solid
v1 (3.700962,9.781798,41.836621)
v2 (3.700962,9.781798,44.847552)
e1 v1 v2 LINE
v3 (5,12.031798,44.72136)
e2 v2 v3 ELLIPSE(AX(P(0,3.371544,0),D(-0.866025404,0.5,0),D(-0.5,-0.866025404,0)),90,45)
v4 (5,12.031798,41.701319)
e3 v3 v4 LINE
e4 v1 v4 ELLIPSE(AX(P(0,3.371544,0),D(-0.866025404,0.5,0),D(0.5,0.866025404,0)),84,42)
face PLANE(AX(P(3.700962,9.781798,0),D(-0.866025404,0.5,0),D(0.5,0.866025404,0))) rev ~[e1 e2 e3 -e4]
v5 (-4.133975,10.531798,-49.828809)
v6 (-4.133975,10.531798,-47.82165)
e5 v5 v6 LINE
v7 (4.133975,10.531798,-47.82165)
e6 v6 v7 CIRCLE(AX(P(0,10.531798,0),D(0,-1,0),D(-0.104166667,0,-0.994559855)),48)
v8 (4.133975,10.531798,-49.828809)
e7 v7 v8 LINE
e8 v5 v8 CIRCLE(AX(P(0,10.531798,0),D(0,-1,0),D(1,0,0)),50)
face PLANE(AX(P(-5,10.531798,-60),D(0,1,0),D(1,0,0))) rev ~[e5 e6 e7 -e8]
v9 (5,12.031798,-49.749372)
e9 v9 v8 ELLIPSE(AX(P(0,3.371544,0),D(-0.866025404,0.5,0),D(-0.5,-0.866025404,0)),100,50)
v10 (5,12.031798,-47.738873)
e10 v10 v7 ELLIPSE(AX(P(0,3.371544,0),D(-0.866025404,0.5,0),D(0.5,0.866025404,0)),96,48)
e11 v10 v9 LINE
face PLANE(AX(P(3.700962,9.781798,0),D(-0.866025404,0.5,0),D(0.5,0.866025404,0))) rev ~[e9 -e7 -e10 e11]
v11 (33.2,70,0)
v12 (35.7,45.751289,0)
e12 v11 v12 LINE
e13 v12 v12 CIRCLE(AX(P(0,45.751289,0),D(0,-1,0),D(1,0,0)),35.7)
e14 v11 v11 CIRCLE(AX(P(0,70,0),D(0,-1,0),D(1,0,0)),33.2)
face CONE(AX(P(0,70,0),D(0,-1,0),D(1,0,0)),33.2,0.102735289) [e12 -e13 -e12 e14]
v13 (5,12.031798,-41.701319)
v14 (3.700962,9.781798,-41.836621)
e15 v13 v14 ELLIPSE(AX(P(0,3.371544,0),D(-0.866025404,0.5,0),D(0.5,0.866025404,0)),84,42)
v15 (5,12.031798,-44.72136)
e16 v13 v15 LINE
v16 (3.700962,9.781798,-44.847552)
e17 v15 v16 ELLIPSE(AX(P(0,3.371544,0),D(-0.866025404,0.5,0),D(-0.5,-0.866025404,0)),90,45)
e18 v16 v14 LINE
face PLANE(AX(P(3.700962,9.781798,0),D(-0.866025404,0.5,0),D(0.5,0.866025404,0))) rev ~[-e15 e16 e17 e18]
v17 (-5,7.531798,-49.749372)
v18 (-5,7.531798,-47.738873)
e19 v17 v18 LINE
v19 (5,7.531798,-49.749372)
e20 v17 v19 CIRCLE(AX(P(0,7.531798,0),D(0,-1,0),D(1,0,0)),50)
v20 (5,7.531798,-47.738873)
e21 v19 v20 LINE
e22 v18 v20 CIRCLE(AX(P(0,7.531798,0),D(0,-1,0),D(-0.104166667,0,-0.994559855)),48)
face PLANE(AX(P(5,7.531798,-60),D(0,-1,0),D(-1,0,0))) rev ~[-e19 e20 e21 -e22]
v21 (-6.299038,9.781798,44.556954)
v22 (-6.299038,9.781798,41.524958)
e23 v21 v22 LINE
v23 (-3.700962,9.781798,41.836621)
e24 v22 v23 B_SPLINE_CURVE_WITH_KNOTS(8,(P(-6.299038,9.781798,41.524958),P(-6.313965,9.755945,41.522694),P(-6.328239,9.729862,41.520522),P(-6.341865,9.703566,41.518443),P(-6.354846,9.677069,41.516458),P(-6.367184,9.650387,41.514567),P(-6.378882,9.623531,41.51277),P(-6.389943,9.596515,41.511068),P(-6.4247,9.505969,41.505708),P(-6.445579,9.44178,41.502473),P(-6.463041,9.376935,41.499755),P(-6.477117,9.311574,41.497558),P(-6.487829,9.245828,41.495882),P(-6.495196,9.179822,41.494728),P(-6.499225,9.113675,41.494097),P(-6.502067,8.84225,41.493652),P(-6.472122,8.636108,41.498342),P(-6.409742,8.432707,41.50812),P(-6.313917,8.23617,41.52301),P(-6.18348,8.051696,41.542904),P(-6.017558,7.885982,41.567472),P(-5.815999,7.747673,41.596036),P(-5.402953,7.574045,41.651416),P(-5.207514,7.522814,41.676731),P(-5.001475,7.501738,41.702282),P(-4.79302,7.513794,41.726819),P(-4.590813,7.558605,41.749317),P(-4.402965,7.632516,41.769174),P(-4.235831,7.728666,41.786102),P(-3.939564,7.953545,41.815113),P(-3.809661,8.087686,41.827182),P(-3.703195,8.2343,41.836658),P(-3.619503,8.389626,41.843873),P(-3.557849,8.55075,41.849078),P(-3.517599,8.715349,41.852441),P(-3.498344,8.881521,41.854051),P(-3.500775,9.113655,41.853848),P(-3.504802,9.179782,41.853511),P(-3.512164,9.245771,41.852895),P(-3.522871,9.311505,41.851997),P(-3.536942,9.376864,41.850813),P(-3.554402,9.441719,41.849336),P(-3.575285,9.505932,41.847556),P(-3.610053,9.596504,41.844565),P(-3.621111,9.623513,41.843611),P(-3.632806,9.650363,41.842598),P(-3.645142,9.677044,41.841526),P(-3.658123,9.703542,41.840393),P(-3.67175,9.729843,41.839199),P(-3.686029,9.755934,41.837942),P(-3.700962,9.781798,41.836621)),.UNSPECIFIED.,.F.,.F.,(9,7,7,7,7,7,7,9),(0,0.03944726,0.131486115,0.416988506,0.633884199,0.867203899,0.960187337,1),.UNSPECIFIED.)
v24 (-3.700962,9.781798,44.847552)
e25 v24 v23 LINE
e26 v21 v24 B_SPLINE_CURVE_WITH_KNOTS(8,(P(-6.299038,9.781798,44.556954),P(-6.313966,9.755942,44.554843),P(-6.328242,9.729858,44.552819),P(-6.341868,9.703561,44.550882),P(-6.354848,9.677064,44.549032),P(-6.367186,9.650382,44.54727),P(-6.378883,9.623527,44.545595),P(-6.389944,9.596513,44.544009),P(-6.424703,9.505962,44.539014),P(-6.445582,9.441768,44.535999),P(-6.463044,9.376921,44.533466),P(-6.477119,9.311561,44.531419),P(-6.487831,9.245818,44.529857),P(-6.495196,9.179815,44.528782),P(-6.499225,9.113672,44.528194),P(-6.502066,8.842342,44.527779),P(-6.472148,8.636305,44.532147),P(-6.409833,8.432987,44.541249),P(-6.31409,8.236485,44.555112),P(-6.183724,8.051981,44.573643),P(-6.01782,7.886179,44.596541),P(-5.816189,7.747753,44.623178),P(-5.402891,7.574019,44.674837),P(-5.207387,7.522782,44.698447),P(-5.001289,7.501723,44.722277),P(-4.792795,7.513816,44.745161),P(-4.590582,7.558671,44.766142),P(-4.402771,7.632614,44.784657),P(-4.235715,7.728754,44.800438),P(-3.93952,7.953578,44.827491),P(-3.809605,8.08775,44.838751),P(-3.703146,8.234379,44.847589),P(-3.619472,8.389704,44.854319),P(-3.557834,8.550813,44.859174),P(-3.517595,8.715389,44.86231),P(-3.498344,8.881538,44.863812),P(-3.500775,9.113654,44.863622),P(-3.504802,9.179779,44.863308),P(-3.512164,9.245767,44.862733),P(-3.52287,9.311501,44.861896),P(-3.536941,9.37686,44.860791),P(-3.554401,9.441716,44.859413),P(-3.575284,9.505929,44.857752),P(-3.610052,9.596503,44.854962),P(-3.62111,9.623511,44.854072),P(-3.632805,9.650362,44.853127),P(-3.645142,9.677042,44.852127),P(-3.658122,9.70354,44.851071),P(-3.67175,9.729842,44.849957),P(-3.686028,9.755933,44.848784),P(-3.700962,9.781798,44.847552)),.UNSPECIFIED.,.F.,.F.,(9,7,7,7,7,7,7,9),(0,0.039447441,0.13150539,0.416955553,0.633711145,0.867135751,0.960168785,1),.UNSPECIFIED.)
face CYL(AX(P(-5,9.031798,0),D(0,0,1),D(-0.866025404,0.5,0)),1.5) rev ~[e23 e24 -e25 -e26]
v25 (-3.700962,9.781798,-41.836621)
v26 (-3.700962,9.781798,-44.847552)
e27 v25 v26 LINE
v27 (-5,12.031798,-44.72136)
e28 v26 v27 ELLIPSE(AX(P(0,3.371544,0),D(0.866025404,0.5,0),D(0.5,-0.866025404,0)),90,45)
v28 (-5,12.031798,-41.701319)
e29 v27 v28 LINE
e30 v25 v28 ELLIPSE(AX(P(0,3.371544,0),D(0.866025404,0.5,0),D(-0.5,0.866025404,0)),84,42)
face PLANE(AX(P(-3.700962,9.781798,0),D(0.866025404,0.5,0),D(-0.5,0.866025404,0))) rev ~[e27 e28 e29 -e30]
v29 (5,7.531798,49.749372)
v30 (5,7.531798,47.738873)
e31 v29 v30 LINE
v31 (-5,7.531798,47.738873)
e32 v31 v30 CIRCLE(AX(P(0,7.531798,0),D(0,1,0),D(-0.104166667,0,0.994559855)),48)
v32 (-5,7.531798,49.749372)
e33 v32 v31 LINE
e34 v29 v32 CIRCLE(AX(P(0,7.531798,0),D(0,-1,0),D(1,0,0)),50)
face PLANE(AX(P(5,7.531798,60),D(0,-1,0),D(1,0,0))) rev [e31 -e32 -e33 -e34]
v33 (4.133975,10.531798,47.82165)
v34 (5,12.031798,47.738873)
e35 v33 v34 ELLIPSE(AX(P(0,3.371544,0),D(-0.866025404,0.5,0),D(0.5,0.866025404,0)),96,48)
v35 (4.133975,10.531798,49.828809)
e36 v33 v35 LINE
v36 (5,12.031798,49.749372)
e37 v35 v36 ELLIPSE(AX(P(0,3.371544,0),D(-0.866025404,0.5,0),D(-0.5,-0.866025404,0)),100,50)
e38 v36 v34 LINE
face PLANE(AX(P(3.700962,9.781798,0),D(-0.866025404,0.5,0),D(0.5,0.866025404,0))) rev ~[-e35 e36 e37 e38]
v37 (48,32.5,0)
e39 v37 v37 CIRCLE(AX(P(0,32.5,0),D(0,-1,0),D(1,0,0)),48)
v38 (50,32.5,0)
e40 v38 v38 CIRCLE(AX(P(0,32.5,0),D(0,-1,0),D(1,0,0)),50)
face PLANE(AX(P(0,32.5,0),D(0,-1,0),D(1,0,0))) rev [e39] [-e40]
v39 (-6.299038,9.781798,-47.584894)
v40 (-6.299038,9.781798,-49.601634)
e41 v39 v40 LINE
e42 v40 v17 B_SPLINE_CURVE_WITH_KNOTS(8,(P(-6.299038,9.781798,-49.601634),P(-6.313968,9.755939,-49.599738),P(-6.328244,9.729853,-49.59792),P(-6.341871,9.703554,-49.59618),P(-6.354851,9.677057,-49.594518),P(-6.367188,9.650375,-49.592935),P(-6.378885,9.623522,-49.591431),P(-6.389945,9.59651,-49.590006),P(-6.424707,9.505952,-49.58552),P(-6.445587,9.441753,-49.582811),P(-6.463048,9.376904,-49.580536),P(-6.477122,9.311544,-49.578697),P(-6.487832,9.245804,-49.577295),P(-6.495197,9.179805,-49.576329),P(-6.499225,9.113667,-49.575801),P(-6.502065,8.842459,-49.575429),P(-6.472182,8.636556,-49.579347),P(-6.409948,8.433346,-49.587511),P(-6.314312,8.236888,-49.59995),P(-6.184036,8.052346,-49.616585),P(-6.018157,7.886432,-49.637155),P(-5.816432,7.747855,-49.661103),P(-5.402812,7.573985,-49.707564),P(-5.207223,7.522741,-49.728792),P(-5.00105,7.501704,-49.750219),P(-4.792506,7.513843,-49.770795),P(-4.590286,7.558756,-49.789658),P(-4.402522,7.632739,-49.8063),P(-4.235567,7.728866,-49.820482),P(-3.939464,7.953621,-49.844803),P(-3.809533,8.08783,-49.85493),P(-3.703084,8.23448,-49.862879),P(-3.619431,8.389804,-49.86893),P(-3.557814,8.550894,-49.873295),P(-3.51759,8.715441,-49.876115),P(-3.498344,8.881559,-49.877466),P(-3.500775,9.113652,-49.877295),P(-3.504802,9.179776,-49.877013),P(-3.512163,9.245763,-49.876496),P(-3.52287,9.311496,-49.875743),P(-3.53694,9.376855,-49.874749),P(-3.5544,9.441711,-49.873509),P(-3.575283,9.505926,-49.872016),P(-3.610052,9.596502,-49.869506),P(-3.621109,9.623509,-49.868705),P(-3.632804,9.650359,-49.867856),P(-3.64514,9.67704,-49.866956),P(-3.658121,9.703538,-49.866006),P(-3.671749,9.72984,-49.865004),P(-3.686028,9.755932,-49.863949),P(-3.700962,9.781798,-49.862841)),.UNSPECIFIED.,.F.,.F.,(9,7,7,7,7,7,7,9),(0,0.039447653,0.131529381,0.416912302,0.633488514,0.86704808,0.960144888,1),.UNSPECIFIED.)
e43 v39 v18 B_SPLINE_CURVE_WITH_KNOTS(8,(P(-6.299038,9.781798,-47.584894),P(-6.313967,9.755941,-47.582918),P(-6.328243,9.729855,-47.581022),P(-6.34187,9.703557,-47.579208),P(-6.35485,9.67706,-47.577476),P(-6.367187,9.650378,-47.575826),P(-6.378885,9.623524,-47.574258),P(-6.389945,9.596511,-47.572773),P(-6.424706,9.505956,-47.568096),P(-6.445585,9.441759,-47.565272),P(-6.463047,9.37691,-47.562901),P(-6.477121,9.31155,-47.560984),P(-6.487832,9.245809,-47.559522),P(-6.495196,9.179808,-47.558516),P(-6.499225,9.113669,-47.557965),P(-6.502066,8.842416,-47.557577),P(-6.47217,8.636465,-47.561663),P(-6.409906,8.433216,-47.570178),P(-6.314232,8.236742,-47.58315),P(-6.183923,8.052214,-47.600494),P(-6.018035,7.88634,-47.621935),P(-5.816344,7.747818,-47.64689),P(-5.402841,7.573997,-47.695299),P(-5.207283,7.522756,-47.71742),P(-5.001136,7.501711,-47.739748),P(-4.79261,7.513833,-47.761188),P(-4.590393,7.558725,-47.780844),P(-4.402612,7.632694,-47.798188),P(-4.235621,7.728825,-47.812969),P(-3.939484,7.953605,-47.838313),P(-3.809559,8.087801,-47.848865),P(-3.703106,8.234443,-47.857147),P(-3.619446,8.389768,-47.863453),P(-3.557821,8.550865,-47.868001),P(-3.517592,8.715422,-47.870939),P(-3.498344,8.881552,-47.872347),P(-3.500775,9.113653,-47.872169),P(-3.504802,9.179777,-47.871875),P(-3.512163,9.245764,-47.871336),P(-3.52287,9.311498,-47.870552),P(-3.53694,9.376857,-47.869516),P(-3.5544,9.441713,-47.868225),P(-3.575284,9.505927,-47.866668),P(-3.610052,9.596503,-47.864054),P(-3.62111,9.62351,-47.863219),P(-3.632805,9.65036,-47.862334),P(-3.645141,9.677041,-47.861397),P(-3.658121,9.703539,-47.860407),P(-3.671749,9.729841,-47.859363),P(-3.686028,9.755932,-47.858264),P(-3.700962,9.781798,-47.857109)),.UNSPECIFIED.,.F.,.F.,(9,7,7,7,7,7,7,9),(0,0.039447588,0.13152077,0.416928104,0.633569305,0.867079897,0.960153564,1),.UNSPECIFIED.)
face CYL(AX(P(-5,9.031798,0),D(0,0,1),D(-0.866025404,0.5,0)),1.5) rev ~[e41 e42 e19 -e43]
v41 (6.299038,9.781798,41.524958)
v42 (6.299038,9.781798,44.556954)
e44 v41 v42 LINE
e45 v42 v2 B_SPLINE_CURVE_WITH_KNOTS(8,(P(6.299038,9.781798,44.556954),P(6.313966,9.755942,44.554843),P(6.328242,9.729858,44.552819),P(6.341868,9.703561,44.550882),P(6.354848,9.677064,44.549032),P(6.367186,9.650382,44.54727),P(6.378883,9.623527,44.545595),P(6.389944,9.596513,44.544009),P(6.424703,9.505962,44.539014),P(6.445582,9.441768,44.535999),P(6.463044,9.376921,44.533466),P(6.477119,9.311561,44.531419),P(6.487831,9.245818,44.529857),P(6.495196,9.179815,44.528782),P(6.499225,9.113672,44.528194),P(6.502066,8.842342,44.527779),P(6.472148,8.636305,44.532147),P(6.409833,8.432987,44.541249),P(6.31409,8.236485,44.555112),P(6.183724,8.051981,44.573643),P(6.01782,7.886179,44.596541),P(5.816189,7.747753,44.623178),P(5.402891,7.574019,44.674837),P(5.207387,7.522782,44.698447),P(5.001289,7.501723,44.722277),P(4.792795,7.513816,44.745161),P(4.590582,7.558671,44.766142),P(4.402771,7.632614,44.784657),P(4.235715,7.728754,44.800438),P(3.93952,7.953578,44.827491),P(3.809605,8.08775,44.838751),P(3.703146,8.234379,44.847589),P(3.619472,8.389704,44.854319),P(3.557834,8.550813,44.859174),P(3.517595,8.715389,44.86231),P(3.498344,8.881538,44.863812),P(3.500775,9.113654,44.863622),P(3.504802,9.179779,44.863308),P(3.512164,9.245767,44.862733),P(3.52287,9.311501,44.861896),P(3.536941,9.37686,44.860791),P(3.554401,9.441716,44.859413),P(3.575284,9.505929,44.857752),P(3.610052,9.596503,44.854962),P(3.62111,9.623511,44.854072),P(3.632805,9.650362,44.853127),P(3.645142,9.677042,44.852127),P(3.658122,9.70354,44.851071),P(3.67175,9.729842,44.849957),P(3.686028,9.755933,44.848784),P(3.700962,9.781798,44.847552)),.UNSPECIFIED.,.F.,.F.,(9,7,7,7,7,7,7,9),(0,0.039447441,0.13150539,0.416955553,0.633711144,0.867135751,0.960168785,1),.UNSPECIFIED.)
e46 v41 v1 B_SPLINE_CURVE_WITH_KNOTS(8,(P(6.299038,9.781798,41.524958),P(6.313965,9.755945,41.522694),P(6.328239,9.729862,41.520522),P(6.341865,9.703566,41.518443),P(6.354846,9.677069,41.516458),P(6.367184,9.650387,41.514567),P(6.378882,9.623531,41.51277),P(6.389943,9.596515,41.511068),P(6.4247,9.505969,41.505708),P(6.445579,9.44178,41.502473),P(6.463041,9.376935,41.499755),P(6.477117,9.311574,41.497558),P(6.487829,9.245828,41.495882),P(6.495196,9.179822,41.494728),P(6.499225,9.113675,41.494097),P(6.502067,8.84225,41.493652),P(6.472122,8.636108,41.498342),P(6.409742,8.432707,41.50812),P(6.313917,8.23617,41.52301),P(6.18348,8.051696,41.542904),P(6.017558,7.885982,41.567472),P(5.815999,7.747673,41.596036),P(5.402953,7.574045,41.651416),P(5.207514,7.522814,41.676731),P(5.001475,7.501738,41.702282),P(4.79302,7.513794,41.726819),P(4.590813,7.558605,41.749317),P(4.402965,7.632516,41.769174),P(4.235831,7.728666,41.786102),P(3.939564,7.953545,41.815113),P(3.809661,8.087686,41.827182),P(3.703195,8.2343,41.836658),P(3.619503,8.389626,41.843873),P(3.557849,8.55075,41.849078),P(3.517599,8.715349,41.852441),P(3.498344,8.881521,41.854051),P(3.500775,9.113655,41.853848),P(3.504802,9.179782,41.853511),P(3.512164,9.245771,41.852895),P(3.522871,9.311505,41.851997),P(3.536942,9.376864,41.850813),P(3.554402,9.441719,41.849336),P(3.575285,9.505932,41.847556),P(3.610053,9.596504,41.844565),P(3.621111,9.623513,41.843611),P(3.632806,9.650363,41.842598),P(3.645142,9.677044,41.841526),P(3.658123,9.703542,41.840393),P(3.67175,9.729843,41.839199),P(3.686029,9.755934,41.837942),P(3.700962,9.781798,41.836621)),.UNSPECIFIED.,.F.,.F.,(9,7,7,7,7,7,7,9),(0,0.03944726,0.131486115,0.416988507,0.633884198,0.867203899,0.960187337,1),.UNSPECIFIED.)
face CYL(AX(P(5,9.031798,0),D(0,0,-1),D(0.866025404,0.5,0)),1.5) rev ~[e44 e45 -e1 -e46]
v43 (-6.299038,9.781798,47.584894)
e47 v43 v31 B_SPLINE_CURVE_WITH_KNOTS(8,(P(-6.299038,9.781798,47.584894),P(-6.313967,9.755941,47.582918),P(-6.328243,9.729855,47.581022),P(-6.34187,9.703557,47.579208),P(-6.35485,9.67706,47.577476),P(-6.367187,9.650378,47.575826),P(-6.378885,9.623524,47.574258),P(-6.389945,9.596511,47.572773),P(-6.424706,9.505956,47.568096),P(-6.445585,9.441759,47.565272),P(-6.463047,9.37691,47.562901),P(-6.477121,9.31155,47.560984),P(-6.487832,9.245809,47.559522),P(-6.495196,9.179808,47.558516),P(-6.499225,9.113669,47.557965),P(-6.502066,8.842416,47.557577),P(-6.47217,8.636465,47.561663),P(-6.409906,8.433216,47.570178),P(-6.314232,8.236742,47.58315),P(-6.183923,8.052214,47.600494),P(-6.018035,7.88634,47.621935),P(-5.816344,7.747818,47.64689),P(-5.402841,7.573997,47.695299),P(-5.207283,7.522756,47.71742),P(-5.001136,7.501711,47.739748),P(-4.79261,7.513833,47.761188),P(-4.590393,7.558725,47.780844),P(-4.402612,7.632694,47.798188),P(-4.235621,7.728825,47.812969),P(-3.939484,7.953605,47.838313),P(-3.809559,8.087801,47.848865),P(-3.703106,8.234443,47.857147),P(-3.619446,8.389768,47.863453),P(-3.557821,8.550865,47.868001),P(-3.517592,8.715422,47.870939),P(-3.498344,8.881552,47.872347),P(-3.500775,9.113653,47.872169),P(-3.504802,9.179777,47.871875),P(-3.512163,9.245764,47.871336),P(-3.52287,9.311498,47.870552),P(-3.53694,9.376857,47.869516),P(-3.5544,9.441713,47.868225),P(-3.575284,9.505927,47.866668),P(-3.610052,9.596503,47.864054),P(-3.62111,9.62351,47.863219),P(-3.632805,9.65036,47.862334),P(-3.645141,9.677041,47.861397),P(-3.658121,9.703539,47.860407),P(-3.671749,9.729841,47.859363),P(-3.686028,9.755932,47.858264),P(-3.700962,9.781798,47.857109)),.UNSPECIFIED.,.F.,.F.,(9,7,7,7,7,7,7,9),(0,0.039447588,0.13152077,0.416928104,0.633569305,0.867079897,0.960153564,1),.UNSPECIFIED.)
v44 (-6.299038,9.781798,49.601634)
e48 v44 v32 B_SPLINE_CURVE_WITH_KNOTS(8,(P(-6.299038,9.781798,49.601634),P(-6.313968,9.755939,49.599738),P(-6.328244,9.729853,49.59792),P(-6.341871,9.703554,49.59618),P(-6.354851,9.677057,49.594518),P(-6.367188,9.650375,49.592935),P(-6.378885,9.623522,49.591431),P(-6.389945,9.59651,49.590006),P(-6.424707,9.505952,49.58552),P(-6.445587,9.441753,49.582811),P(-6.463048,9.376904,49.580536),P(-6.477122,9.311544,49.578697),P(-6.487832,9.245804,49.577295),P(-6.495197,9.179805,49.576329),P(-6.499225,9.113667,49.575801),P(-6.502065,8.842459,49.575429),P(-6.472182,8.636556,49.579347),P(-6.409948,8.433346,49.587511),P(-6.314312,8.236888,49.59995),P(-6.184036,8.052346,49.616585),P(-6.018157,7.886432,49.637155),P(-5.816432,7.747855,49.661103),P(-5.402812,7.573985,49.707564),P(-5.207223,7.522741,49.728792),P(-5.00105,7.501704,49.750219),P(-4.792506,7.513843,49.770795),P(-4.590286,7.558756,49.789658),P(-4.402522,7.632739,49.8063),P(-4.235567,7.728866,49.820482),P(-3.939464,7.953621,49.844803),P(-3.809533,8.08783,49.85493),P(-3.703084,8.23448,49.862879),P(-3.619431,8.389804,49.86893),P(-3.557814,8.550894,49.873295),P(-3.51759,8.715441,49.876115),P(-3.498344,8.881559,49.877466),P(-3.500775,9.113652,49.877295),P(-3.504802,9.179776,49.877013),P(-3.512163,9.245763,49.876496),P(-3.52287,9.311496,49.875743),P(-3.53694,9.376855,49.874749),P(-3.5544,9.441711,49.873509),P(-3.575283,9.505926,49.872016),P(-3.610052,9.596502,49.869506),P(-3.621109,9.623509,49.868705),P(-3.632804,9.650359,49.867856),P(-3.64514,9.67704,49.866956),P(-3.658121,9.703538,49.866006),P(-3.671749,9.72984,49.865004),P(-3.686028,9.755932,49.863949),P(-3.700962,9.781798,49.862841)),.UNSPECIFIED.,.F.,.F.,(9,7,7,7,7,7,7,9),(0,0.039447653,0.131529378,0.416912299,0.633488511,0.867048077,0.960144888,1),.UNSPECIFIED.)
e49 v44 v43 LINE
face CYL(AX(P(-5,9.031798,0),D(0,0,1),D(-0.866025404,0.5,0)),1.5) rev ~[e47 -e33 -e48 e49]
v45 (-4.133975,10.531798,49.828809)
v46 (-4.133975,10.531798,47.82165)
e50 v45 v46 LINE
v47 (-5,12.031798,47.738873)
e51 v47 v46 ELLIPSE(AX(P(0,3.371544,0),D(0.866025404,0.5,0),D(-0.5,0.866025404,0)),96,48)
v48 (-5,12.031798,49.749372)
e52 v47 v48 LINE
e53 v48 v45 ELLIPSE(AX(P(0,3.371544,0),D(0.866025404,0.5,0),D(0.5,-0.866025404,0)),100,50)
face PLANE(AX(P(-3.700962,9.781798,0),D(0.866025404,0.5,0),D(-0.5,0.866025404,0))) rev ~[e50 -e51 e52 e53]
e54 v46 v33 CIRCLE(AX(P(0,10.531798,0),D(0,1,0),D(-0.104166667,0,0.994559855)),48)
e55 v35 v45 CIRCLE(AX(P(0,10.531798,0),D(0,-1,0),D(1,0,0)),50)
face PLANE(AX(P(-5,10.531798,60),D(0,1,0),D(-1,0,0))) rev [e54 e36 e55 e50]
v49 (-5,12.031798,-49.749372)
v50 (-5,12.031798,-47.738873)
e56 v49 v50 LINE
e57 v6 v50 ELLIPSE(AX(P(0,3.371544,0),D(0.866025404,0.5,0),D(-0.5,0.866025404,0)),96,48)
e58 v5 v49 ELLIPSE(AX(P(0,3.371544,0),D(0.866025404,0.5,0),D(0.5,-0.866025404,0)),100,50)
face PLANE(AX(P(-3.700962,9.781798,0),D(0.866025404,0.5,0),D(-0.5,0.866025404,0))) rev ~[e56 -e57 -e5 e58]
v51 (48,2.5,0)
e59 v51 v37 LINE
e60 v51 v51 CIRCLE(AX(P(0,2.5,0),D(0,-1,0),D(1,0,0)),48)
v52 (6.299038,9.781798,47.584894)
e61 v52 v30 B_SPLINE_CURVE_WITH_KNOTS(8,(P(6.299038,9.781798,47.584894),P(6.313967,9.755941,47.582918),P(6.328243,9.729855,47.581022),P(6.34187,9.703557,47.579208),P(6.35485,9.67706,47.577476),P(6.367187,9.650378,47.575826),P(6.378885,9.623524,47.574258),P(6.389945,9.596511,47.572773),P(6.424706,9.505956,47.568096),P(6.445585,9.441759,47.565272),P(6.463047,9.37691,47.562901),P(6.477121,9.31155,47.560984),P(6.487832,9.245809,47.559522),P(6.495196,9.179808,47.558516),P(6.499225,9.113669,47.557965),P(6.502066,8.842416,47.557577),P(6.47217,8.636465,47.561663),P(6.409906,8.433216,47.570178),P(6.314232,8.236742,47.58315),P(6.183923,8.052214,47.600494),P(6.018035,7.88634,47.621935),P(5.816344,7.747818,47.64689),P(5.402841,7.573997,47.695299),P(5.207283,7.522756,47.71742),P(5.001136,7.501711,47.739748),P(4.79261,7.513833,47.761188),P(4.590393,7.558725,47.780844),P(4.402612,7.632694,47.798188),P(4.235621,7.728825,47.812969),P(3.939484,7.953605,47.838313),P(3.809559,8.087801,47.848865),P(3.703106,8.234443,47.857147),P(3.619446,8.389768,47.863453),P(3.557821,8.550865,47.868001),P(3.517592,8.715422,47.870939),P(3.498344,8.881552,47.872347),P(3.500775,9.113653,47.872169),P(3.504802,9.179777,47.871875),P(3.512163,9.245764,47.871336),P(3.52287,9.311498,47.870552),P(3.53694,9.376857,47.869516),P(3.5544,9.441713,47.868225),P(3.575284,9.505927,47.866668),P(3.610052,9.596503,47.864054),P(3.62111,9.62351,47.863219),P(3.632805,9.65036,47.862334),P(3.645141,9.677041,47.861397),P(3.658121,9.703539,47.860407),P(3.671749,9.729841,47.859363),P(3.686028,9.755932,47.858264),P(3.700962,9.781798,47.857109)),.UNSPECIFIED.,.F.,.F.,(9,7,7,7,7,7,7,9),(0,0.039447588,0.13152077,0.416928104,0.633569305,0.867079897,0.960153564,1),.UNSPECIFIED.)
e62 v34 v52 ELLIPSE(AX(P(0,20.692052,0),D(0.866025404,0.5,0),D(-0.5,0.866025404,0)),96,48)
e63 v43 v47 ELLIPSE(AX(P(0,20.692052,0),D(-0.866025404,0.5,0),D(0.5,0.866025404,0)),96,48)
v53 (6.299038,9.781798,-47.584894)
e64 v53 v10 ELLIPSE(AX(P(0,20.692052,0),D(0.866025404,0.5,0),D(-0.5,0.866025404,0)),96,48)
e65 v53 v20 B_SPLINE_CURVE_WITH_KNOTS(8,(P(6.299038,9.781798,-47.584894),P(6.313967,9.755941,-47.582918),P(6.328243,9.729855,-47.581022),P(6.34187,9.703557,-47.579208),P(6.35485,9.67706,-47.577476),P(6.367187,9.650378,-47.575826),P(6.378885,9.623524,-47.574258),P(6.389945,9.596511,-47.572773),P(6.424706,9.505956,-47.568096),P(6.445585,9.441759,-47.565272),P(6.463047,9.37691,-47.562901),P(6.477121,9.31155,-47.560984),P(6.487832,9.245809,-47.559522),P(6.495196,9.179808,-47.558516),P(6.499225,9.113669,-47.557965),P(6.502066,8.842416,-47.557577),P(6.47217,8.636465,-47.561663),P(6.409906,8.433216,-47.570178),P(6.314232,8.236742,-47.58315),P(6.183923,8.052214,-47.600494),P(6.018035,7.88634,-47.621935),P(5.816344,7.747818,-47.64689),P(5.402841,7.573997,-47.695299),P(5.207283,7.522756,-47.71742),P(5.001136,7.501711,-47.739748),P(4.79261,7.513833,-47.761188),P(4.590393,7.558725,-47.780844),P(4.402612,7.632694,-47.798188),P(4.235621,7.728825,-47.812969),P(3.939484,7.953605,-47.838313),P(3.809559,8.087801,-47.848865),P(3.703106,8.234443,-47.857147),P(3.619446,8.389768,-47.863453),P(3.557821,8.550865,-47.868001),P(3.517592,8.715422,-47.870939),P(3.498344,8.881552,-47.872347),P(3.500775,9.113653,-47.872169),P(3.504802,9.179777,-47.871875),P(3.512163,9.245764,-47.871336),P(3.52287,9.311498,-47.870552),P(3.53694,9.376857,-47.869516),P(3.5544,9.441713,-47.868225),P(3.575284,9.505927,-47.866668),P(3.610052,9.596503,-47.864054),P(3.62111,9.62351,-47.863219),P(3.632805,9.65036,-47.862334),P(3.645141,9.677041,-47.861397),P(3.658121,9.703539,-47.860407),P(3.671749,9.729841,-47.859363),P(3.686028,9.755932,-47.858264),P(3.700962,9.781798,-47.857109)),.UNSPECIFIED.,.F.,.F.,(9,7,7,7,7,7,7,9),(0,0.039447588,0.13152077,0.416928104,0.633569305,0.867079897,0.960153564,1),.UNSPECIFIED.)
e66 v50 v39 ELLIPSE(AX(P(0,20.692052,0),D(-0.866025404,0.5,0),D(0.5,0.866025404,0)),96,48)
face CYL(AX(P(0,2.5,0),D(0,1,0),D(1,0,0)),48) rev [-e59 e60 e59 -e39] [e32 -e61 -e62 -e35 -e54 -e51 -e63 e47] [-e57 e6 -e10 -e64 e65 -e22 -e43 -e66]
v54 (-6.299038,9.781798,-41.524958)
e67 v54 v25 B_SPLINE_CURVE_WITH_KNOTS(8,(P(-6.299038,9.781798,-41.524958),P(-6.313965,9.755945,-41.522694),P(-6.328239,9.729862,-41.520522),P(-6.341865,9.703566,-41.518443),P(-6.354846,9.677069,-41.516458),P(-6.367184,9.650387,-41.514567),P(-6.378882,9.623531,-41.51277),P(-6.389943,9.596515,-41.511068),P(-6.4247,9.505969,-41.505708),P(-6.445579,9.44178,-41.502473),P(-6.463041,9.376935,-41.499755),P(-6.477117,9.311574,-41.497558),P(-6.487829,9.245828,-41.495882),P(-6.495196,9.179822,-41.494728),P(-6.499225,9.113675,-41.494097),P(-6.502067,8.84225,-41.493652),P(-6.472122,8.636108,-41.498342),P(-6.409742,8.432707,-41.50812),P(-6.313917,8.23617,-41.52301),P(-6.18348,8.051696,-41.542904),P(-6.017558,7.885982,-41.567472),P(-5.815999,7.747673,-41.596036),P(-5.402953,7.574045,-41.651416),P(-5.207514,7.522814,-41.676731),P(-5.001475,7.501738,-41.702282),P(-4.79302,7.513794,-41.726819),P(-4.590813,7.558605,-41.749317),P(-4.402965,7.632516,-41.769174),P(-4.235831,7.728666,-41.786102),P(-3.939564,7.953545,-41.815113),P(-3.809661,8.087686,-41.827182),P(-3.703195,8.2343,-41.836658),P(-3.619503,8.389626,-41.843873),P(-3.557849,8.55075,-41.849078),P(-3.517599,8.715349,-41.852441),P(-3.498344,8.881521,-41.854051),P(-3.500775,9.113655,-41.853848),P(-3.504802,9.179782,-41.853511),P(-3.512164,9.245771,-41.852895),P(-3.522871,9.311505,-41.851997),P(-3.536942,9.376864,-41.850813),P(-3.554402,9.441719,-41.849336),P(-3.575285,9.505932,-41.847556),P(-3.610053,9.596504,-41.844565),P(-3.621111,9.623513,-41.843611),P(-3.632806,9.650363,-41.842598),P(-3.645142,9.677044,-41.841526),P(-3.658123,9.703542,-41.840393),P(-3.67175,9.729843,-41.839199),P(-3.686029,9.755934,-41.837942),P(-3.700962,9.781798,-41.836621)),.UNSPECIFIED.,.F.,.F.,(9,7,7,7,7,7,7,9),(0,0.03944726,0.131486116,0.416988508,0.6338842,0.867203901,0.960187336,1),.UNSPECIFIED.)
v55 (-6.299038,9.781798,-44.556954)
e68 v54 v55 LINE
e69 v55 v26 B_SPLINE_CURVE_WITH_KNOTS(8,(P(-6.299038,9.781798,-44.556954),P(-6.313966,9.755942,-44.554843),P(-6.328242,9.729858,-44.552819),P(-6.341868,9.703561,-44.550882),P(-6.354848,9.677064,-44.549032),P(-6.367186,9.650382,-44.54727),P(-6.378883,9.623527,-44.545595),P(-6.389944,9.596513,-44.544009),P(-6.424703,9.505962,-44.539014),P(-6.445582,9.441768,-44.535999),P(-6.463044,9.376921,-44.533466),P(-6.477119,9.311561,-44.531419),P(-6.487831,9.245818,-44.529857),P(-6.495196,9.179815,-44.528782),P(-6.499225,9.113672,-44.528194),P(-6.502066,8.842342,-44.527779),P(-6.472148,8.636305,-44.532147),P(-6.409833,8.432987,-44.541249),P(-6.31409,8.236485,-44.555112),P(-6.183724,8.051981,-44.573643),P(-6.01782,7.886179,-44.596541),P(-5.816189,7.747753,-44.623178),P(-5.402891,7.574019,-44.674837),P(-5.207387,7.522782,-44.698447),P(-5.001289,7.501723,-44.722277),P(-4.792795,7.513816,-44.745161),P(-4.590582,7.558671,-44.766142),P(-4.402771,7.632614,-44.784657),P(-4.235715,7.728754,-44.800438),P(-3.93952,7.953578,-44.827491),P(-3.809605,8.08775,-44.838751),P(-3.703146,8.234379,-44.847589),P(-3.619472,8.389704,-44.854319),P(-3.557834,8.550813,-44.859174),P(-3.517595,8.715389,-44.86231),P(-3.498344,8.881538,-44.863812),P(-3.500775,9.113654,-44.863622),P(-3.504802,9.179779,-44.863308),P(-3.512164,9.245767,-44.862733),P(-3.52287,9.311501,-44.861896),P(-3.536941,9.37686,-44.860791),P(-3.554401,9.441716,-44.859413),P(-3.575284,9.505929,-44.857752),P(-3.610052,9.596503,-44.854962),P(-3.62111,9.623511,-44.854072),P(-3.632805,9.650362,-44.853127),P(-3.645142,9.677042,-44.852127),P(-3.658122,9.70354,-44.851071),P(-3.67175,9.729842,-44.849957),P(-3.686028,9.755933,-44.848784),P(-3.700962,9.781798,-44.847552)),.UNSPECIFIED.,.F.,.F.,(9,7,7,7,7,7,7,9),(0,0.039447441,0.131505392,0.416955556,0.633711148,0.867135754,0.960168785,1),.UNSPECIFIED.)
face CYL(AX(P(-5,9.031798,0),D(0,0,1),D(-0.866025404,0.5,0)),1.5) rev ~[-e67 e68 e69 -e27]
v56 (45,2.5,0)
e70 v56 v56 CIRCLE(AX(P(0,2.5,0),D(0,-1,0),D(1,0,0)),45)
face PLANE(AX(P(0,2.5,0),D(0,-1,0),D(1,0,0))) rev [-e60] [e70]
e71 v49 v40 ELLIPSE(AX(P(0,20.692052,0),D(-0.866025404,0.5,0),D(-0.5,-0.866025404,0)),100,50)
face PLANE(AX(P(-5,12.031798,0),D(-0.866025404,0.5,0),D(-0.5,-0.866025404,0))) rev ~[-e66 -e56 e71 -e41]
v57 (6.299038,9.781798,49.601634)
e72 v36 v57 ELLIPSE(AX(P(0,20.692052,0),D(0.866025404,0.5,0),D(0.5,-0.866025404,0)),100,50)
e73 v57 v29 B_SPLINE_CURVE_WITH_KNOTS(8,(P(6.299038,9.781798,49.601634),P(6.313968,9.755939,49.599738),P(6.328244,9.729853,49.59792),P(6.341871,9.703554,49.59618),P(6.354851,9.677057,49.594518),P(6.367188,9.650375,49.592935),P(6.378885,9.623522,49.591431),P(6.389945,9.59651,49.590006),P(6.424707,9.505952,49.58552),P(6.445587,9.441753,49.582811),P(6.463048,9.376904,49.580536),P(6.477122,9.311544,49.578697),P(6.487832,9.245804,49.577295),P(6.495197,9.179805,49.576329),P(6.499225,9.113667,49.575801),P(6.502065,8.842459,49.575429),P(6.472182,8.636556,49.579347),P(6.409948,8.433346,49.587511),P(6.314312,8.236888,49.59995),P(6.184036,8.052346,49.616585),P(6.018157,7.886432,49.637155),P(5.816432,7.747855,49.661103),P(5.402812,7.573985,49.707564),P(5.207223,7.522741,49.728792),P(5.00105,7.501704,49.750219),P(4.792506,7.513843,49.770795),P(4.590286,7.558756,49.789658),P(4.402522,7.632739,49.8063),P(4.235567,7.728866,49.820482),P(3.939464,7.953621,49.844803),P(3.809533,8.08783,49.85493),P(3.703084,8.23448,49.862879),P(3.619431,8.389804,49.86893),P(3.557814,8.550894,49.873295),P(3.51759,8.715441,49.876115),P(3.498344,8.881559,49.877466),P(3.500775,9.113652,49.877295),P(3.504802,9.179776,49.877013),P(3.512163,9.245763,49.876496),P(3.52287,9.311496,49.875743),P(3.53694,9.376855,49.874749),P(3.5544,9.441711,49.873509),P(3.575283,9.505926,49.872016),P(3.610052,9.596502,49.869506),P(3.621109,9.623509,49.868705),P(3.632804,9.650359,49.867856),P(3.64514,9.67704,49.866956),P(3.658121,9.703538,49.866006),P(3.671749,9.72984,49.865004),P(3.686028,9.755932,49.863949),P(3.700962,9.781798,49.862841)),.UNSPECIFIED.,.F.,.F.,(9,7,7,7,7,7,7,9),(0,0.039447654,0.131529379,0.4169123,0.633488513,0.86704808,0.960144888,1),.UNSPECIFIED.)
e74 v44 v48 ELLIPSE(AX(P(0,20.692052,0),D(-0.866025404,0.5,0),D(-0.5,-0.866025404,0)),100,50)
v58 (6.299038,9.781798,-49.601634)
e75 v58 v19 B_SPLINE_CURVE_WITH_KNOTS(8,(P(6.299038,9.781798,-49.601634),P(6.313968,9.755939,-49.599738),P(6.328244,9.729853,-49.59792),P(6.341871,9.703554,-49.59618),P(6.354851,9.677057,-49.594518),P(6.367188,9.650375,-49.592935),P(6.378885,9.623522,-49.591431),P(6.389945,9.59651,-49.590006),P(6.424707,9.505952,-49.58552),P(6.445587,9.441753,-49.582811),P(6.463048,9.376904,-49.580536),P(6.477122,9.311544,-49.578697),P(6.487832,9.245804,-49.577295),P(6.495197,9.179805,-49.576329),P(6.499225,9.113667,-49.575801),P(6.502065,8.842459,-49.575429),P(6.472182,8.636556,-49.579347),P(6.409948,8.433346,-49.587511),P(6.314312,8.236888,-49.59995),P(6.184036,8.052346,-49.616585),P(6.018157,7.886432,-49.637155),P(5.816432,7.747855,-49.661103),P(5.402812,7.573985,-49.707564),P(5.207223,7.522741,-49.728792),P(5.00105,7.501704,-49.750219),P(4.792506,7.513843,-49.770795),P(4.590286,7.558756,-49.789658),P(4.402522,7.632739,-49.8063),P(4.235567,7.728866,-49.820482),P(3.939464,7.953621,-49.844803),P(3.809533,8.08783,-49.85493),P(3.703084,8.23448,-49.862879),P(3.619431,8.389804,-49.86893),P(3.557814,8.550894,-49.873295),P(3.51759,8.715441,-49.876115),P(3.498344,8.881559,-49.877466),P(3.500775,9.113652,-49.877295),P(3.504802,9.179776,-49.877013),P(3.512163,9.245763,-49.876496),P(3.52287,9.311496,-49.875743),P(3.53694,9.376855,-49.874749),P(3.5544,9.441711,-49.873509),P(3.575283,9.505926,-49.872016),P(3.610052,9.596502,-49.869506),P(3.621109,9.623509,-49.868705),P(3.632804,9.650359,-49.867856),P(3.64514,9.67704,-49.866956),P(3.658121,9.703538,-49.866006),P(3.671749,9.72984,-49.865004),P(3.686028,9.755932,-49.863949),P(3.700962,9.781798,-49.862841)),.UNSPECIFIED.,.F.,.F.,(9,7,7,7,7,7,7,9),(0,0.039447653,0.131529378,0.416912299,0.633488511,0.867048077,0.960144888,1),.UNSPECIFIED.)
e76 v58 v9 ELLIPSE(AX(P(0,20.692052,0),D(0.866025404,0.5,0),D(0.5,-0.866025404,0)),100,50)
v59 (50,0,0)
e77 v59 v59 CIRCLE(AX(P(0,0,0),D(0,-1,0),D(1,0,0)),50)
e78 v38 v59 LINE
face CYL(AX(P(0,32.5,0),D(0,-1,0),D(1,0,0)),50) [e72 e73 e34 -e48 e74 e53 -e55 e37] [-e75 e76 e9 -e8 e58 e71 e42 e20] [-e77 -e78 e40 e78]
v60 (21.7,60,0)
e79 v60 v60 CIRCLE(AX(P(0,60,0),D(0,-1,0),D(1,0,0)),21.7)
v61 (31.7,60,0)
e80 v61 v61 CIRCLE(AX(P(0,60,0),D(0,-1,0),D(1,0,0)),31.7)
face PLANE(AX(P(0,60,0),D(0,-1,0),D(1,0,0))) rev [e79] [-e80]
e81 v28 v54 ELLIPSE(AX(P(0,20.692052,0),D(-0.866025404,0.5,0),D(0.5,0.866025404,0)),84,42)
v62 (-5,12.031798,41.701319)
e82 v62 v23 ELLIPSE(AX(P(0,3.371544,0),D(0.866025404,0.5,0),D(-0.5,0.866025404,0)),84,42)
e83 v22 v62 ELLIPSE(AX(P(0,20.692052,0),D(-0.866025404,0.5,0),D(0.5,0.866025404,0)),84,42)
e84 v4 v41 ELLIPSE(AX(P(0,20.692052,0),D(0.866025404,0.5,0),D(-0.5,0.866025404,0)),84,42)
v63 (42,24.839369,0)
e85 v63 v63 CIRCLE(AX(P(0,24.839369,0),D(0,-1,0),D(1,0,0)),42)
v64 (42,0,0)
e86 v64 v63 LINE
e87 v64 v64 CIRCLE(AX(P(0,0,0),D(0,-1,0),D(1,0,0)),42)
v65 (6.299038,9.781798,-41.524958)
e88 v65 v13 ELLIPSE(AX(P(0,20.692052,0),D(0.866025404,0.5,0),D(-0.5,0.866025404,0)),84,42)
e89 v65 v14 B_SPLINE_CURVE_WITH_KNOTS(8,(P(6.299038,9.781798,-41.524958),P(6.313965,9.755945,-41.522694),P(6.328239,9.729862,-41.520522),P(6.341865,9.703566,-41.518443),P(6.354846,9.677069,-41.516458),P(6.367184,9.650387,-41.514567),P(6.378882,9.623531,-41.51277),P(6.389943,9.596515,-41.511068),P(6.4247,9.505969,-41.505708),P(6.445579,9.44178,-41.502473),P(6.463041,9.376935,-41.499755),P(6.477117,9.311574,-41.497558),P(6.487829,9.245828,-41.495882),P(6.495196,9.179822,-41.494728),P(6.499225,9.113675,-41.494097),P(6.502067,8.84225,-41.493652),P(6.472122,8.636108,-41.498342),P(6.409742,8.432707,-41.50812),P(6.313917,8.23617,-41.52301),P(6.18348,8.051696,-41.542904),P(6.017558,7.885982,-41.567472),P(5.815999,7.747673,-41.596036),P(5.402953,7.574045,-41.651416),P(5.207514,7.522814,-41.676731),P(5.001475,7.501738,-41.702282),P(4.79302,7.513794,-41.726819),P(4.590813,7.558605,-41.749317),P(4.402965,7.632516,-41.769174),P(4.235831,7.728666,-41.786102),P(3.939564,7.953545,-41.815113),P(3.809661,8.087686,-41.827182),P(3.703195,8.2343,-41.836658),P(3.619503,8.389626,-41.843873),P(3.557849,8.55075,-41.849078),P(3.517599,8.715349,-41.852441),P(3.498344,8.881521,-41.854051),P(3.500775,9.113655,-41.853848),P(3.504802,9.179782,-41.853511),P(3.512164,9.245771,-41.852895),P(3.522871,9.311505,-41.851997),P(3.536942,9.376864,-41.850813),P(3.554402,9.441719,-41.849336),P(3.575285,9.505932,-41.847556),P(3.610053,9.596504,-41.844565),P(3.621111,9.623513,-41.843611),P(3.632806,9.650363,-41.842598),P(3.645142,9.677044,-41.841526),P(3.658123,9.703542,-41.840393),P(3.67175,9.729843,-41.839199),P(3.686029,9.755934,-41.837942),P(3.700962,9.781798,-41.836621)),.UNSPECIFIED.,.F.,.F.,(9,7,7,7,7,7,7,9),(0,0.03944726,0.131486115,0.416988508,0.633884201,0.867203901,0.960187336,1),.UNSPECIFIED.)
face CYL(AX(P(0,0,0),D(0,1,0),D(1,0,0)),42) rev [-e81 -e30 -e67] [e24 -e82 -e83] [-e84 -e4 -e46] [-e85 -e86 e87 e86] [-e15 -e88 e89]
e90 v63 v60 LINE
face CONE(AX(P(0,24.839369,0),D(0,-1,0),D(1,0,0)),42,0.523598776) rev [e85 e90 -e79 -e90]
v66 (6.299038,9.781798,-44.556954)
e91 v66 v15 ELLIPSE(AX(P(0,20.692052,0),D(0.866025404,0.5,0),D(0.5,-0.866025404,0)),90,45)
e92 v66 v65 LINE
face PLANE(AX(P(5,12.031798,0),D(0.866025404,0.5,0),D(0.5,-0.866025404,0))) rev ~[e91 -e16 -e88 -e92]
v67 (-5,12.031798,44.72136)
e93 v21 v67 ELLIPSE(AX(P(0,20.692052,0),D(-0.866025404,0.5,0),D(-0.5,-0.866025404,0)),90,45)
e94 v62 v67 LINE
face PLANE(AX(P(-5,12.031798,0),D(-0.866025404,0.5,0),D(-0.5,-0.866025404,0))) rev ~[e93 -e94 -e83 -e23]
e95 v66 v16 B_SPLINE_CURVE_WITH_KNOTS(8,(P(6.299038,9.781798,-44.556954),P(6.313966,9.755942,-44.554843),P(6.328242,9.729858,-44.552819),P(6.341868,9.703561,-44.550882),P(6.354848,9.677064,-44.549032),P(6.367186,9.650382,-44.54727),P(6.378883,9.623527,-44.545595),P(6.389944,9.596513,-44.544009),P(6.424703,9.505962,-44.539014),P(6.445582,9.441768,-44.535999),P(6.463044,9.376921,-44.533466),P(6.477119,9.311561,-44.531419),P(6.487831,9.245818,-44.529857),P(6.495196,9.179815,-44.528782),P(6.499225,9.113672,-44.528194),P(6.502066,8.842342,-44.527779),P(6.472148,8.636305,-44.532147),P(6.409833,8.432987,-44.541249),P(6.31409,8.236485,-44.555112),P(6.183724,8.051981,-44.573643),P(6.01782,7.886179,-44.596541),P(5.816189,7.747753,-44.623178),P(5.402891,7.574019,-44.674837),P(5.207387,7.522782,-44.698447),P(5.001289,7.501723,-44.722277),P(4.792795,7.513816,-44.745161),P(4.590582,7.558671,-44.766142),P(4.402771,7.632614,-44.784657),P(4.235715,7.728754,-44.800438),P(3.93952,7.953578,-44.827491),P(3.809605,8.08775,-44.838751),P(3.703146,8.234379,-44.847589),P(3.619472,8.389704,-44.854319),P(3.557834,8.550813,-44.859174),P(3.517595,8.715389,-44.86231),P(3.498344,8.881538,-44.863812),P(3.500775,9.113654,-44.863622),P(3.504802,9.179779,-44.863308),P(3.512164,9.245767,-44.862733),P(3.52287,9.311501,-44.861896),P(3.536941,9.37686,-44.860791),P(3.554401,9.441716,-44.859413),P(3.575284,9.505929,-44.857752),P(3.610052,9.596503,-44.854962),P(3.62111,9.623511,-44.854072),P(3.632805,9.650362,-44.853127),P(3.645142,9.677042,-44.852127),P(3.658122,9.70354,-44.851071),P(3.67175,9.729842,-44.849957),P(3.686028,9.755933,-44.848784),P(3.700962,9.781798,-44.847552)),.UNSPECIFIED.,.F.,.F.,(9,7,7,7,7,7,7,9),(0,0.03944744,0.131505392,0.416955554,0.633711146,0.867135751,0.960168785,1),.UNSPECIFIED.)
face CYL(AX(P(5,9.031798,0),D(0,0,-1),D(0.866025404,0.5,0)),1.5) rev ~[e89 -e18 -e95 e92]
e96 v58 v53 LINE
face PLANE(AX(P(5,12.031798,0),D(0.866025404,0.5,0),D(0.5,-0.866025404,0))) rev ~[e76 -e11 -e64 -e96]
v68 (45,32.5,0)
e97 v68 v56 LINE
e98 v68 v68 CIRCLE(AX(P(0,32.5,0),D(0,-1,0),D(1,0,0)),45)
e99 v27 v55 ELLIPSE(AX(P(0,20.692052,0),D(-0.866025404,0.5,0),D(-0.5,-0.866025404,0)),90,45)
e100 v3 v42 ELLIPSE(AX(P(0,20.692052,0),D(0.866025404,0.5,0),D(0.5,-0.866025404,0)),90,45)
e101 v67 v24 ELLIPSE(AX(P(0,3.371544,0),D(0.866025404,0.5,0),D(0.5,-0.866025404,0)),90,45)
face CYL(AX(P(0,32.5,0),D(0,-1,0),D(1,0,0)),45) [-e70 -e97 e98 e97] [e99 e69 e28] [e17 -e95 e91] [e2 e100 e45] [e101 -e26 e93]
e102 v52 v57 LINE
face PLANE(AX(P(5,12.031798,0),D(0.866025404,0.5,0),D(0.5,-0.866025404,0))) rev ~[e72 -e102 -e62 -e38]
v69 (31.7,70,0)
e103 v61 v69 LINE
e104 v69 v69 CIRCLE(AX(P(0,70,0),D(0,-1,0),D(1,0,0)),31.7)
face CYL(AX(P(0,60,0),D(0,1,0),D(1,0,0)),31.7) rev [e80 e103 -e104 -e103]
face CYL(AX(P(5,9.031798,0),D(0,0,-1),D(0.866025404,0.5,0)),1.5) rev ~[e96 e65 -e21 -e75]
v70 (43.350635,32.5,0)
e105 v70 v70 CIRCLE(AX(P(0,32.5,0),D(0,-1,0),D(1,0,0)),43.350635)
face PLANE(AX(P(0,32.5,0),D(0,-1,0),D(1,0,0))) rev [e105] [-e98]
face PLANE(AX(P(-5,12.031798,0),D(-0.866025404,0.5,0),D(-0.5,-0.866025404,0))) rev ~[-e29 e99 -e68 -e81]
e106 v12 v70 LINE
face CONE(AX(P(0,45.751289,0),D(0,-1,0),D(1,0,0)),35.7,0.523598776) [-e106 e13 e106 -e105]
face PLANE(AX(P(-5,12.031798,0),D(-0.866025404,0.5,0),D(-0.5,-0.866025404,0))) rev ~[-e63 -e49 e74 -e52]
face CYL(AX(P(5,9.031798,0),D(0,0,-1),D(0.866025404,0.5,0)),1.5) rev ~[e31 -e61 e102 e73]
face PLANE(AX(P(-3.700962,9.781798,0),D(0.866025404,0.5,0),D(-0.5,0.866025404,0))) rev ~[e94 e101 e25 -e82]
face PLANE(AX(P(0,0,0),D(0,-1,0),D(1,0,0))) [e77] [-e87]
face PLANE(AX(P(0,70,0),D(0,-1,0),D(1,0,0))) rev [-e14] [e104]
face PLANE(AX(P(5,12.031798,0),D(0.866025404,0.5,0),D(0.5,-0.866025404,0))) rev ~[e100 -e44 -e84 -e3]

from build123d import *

# Parameters (mm, degrees)
CUT_EXTRUDE_1798_DEPTH   = 103.8
CUT_EXTRUDE_3_REACH      = 141.642
CUT_EXTRUDE_3_END_RADIUS = 48


with BuildPart() as part:
    # Эскиз1 → Повернуть1 (revolve)
    with BuildSketch(Plane.XY):
        Polygon((21.7, 60), (31.7, 60), (31.7, 70), (33.2, 70), (35.7, 45.751288694), (43.350635095, 32.5), (45, 32.5), (45, 2.5), (48, 2.5), (48, 32.5), (50, 32.5), (50, 0), (42, 0), (42, 24.839368606), align=None)
    revolve(axis=Axis((0, 4, 0), (0, -1, 0)))

    # Эскиз3 → Cut-Extrude 1798 (cut, symmetric)
    with BuildSketch(Plane.XY):
        with BuildLine():
            Line((3.700961894, 9.781798364), (5, 12.031798364))
            Line((5, 12.031798364), (6.299038106, 9.781798364))
            ThreePointArc((6.299038106, 9.781798364), (5, 7.531798364), (3.700961894, 9.781798364))
        make_face()
        with BuildLine():
            Line((-3.700961894, 9.781798364), (-5, 12.031798364))
            Line((-5, 12.031798364), (-6.299038106, 9.781798364))
            ThreePointArc((-6.299038106, 9.781798364), (-5, 7.531798364), (-3.700961894, 9.781798364))
        make_face()
    extrude(amount=CUT_EXTRUDE_1798_DEPTH, both=True, mode=Mode.SUBTRACT)

    # Вырез-Вытянуть3: up to this cylinder (the profile starts outside it)
    cut_extrude_3_end = Plane(origin=(0, 9.031798, 0), z_dir=(0, -1, 0)) * Cylinder(CUT_EXTRUDE_3_END_RADIUS, 380.284, mode=Mode.PRIVATE)
    # Эскиз4 → Вырез-Вытянуть3 (cut, up to the surface)
    with BuildSketch(Plane.XY.offset(-60), mode=Mode.PRIVATE) as cut_extrude_3_sk1:
        with BuildLine():
            Line((-5, 10.531798364), (5, 10.531798364))
            ThreePointArc((5, 10.531798364), (6.5, 9.031798364), (5, 7.531798364))
            Line((5, 7.531798364), (-5, 7.531798364))
            ThreePointArc((-5, 7.531798364), (-6.5, 9.031798364), (-5, 10.531798364))
        make_face()
    cut_extrude_3_tool1 = extrude(cut_extrude_3_sk1.sketch, amount=CUT_EXTRUDE_3_REACH, mode=Mode.PRIVATE) - cut_extrude_3_end
    cut_extrude_3 = cut_extrude_3_tool1.solids().sort_by_distance((0, 9.031798, -60))[0]
    add(cut_extrude_3, mode=Mode.SUBTRACT)

    # Зеркальное отражение1: Вырез-Вытянуть3 across plane
    add(cut_extrude_3.mirror(Plane.XY), mode=Mode.SUBTRACT)


solid = part.part
